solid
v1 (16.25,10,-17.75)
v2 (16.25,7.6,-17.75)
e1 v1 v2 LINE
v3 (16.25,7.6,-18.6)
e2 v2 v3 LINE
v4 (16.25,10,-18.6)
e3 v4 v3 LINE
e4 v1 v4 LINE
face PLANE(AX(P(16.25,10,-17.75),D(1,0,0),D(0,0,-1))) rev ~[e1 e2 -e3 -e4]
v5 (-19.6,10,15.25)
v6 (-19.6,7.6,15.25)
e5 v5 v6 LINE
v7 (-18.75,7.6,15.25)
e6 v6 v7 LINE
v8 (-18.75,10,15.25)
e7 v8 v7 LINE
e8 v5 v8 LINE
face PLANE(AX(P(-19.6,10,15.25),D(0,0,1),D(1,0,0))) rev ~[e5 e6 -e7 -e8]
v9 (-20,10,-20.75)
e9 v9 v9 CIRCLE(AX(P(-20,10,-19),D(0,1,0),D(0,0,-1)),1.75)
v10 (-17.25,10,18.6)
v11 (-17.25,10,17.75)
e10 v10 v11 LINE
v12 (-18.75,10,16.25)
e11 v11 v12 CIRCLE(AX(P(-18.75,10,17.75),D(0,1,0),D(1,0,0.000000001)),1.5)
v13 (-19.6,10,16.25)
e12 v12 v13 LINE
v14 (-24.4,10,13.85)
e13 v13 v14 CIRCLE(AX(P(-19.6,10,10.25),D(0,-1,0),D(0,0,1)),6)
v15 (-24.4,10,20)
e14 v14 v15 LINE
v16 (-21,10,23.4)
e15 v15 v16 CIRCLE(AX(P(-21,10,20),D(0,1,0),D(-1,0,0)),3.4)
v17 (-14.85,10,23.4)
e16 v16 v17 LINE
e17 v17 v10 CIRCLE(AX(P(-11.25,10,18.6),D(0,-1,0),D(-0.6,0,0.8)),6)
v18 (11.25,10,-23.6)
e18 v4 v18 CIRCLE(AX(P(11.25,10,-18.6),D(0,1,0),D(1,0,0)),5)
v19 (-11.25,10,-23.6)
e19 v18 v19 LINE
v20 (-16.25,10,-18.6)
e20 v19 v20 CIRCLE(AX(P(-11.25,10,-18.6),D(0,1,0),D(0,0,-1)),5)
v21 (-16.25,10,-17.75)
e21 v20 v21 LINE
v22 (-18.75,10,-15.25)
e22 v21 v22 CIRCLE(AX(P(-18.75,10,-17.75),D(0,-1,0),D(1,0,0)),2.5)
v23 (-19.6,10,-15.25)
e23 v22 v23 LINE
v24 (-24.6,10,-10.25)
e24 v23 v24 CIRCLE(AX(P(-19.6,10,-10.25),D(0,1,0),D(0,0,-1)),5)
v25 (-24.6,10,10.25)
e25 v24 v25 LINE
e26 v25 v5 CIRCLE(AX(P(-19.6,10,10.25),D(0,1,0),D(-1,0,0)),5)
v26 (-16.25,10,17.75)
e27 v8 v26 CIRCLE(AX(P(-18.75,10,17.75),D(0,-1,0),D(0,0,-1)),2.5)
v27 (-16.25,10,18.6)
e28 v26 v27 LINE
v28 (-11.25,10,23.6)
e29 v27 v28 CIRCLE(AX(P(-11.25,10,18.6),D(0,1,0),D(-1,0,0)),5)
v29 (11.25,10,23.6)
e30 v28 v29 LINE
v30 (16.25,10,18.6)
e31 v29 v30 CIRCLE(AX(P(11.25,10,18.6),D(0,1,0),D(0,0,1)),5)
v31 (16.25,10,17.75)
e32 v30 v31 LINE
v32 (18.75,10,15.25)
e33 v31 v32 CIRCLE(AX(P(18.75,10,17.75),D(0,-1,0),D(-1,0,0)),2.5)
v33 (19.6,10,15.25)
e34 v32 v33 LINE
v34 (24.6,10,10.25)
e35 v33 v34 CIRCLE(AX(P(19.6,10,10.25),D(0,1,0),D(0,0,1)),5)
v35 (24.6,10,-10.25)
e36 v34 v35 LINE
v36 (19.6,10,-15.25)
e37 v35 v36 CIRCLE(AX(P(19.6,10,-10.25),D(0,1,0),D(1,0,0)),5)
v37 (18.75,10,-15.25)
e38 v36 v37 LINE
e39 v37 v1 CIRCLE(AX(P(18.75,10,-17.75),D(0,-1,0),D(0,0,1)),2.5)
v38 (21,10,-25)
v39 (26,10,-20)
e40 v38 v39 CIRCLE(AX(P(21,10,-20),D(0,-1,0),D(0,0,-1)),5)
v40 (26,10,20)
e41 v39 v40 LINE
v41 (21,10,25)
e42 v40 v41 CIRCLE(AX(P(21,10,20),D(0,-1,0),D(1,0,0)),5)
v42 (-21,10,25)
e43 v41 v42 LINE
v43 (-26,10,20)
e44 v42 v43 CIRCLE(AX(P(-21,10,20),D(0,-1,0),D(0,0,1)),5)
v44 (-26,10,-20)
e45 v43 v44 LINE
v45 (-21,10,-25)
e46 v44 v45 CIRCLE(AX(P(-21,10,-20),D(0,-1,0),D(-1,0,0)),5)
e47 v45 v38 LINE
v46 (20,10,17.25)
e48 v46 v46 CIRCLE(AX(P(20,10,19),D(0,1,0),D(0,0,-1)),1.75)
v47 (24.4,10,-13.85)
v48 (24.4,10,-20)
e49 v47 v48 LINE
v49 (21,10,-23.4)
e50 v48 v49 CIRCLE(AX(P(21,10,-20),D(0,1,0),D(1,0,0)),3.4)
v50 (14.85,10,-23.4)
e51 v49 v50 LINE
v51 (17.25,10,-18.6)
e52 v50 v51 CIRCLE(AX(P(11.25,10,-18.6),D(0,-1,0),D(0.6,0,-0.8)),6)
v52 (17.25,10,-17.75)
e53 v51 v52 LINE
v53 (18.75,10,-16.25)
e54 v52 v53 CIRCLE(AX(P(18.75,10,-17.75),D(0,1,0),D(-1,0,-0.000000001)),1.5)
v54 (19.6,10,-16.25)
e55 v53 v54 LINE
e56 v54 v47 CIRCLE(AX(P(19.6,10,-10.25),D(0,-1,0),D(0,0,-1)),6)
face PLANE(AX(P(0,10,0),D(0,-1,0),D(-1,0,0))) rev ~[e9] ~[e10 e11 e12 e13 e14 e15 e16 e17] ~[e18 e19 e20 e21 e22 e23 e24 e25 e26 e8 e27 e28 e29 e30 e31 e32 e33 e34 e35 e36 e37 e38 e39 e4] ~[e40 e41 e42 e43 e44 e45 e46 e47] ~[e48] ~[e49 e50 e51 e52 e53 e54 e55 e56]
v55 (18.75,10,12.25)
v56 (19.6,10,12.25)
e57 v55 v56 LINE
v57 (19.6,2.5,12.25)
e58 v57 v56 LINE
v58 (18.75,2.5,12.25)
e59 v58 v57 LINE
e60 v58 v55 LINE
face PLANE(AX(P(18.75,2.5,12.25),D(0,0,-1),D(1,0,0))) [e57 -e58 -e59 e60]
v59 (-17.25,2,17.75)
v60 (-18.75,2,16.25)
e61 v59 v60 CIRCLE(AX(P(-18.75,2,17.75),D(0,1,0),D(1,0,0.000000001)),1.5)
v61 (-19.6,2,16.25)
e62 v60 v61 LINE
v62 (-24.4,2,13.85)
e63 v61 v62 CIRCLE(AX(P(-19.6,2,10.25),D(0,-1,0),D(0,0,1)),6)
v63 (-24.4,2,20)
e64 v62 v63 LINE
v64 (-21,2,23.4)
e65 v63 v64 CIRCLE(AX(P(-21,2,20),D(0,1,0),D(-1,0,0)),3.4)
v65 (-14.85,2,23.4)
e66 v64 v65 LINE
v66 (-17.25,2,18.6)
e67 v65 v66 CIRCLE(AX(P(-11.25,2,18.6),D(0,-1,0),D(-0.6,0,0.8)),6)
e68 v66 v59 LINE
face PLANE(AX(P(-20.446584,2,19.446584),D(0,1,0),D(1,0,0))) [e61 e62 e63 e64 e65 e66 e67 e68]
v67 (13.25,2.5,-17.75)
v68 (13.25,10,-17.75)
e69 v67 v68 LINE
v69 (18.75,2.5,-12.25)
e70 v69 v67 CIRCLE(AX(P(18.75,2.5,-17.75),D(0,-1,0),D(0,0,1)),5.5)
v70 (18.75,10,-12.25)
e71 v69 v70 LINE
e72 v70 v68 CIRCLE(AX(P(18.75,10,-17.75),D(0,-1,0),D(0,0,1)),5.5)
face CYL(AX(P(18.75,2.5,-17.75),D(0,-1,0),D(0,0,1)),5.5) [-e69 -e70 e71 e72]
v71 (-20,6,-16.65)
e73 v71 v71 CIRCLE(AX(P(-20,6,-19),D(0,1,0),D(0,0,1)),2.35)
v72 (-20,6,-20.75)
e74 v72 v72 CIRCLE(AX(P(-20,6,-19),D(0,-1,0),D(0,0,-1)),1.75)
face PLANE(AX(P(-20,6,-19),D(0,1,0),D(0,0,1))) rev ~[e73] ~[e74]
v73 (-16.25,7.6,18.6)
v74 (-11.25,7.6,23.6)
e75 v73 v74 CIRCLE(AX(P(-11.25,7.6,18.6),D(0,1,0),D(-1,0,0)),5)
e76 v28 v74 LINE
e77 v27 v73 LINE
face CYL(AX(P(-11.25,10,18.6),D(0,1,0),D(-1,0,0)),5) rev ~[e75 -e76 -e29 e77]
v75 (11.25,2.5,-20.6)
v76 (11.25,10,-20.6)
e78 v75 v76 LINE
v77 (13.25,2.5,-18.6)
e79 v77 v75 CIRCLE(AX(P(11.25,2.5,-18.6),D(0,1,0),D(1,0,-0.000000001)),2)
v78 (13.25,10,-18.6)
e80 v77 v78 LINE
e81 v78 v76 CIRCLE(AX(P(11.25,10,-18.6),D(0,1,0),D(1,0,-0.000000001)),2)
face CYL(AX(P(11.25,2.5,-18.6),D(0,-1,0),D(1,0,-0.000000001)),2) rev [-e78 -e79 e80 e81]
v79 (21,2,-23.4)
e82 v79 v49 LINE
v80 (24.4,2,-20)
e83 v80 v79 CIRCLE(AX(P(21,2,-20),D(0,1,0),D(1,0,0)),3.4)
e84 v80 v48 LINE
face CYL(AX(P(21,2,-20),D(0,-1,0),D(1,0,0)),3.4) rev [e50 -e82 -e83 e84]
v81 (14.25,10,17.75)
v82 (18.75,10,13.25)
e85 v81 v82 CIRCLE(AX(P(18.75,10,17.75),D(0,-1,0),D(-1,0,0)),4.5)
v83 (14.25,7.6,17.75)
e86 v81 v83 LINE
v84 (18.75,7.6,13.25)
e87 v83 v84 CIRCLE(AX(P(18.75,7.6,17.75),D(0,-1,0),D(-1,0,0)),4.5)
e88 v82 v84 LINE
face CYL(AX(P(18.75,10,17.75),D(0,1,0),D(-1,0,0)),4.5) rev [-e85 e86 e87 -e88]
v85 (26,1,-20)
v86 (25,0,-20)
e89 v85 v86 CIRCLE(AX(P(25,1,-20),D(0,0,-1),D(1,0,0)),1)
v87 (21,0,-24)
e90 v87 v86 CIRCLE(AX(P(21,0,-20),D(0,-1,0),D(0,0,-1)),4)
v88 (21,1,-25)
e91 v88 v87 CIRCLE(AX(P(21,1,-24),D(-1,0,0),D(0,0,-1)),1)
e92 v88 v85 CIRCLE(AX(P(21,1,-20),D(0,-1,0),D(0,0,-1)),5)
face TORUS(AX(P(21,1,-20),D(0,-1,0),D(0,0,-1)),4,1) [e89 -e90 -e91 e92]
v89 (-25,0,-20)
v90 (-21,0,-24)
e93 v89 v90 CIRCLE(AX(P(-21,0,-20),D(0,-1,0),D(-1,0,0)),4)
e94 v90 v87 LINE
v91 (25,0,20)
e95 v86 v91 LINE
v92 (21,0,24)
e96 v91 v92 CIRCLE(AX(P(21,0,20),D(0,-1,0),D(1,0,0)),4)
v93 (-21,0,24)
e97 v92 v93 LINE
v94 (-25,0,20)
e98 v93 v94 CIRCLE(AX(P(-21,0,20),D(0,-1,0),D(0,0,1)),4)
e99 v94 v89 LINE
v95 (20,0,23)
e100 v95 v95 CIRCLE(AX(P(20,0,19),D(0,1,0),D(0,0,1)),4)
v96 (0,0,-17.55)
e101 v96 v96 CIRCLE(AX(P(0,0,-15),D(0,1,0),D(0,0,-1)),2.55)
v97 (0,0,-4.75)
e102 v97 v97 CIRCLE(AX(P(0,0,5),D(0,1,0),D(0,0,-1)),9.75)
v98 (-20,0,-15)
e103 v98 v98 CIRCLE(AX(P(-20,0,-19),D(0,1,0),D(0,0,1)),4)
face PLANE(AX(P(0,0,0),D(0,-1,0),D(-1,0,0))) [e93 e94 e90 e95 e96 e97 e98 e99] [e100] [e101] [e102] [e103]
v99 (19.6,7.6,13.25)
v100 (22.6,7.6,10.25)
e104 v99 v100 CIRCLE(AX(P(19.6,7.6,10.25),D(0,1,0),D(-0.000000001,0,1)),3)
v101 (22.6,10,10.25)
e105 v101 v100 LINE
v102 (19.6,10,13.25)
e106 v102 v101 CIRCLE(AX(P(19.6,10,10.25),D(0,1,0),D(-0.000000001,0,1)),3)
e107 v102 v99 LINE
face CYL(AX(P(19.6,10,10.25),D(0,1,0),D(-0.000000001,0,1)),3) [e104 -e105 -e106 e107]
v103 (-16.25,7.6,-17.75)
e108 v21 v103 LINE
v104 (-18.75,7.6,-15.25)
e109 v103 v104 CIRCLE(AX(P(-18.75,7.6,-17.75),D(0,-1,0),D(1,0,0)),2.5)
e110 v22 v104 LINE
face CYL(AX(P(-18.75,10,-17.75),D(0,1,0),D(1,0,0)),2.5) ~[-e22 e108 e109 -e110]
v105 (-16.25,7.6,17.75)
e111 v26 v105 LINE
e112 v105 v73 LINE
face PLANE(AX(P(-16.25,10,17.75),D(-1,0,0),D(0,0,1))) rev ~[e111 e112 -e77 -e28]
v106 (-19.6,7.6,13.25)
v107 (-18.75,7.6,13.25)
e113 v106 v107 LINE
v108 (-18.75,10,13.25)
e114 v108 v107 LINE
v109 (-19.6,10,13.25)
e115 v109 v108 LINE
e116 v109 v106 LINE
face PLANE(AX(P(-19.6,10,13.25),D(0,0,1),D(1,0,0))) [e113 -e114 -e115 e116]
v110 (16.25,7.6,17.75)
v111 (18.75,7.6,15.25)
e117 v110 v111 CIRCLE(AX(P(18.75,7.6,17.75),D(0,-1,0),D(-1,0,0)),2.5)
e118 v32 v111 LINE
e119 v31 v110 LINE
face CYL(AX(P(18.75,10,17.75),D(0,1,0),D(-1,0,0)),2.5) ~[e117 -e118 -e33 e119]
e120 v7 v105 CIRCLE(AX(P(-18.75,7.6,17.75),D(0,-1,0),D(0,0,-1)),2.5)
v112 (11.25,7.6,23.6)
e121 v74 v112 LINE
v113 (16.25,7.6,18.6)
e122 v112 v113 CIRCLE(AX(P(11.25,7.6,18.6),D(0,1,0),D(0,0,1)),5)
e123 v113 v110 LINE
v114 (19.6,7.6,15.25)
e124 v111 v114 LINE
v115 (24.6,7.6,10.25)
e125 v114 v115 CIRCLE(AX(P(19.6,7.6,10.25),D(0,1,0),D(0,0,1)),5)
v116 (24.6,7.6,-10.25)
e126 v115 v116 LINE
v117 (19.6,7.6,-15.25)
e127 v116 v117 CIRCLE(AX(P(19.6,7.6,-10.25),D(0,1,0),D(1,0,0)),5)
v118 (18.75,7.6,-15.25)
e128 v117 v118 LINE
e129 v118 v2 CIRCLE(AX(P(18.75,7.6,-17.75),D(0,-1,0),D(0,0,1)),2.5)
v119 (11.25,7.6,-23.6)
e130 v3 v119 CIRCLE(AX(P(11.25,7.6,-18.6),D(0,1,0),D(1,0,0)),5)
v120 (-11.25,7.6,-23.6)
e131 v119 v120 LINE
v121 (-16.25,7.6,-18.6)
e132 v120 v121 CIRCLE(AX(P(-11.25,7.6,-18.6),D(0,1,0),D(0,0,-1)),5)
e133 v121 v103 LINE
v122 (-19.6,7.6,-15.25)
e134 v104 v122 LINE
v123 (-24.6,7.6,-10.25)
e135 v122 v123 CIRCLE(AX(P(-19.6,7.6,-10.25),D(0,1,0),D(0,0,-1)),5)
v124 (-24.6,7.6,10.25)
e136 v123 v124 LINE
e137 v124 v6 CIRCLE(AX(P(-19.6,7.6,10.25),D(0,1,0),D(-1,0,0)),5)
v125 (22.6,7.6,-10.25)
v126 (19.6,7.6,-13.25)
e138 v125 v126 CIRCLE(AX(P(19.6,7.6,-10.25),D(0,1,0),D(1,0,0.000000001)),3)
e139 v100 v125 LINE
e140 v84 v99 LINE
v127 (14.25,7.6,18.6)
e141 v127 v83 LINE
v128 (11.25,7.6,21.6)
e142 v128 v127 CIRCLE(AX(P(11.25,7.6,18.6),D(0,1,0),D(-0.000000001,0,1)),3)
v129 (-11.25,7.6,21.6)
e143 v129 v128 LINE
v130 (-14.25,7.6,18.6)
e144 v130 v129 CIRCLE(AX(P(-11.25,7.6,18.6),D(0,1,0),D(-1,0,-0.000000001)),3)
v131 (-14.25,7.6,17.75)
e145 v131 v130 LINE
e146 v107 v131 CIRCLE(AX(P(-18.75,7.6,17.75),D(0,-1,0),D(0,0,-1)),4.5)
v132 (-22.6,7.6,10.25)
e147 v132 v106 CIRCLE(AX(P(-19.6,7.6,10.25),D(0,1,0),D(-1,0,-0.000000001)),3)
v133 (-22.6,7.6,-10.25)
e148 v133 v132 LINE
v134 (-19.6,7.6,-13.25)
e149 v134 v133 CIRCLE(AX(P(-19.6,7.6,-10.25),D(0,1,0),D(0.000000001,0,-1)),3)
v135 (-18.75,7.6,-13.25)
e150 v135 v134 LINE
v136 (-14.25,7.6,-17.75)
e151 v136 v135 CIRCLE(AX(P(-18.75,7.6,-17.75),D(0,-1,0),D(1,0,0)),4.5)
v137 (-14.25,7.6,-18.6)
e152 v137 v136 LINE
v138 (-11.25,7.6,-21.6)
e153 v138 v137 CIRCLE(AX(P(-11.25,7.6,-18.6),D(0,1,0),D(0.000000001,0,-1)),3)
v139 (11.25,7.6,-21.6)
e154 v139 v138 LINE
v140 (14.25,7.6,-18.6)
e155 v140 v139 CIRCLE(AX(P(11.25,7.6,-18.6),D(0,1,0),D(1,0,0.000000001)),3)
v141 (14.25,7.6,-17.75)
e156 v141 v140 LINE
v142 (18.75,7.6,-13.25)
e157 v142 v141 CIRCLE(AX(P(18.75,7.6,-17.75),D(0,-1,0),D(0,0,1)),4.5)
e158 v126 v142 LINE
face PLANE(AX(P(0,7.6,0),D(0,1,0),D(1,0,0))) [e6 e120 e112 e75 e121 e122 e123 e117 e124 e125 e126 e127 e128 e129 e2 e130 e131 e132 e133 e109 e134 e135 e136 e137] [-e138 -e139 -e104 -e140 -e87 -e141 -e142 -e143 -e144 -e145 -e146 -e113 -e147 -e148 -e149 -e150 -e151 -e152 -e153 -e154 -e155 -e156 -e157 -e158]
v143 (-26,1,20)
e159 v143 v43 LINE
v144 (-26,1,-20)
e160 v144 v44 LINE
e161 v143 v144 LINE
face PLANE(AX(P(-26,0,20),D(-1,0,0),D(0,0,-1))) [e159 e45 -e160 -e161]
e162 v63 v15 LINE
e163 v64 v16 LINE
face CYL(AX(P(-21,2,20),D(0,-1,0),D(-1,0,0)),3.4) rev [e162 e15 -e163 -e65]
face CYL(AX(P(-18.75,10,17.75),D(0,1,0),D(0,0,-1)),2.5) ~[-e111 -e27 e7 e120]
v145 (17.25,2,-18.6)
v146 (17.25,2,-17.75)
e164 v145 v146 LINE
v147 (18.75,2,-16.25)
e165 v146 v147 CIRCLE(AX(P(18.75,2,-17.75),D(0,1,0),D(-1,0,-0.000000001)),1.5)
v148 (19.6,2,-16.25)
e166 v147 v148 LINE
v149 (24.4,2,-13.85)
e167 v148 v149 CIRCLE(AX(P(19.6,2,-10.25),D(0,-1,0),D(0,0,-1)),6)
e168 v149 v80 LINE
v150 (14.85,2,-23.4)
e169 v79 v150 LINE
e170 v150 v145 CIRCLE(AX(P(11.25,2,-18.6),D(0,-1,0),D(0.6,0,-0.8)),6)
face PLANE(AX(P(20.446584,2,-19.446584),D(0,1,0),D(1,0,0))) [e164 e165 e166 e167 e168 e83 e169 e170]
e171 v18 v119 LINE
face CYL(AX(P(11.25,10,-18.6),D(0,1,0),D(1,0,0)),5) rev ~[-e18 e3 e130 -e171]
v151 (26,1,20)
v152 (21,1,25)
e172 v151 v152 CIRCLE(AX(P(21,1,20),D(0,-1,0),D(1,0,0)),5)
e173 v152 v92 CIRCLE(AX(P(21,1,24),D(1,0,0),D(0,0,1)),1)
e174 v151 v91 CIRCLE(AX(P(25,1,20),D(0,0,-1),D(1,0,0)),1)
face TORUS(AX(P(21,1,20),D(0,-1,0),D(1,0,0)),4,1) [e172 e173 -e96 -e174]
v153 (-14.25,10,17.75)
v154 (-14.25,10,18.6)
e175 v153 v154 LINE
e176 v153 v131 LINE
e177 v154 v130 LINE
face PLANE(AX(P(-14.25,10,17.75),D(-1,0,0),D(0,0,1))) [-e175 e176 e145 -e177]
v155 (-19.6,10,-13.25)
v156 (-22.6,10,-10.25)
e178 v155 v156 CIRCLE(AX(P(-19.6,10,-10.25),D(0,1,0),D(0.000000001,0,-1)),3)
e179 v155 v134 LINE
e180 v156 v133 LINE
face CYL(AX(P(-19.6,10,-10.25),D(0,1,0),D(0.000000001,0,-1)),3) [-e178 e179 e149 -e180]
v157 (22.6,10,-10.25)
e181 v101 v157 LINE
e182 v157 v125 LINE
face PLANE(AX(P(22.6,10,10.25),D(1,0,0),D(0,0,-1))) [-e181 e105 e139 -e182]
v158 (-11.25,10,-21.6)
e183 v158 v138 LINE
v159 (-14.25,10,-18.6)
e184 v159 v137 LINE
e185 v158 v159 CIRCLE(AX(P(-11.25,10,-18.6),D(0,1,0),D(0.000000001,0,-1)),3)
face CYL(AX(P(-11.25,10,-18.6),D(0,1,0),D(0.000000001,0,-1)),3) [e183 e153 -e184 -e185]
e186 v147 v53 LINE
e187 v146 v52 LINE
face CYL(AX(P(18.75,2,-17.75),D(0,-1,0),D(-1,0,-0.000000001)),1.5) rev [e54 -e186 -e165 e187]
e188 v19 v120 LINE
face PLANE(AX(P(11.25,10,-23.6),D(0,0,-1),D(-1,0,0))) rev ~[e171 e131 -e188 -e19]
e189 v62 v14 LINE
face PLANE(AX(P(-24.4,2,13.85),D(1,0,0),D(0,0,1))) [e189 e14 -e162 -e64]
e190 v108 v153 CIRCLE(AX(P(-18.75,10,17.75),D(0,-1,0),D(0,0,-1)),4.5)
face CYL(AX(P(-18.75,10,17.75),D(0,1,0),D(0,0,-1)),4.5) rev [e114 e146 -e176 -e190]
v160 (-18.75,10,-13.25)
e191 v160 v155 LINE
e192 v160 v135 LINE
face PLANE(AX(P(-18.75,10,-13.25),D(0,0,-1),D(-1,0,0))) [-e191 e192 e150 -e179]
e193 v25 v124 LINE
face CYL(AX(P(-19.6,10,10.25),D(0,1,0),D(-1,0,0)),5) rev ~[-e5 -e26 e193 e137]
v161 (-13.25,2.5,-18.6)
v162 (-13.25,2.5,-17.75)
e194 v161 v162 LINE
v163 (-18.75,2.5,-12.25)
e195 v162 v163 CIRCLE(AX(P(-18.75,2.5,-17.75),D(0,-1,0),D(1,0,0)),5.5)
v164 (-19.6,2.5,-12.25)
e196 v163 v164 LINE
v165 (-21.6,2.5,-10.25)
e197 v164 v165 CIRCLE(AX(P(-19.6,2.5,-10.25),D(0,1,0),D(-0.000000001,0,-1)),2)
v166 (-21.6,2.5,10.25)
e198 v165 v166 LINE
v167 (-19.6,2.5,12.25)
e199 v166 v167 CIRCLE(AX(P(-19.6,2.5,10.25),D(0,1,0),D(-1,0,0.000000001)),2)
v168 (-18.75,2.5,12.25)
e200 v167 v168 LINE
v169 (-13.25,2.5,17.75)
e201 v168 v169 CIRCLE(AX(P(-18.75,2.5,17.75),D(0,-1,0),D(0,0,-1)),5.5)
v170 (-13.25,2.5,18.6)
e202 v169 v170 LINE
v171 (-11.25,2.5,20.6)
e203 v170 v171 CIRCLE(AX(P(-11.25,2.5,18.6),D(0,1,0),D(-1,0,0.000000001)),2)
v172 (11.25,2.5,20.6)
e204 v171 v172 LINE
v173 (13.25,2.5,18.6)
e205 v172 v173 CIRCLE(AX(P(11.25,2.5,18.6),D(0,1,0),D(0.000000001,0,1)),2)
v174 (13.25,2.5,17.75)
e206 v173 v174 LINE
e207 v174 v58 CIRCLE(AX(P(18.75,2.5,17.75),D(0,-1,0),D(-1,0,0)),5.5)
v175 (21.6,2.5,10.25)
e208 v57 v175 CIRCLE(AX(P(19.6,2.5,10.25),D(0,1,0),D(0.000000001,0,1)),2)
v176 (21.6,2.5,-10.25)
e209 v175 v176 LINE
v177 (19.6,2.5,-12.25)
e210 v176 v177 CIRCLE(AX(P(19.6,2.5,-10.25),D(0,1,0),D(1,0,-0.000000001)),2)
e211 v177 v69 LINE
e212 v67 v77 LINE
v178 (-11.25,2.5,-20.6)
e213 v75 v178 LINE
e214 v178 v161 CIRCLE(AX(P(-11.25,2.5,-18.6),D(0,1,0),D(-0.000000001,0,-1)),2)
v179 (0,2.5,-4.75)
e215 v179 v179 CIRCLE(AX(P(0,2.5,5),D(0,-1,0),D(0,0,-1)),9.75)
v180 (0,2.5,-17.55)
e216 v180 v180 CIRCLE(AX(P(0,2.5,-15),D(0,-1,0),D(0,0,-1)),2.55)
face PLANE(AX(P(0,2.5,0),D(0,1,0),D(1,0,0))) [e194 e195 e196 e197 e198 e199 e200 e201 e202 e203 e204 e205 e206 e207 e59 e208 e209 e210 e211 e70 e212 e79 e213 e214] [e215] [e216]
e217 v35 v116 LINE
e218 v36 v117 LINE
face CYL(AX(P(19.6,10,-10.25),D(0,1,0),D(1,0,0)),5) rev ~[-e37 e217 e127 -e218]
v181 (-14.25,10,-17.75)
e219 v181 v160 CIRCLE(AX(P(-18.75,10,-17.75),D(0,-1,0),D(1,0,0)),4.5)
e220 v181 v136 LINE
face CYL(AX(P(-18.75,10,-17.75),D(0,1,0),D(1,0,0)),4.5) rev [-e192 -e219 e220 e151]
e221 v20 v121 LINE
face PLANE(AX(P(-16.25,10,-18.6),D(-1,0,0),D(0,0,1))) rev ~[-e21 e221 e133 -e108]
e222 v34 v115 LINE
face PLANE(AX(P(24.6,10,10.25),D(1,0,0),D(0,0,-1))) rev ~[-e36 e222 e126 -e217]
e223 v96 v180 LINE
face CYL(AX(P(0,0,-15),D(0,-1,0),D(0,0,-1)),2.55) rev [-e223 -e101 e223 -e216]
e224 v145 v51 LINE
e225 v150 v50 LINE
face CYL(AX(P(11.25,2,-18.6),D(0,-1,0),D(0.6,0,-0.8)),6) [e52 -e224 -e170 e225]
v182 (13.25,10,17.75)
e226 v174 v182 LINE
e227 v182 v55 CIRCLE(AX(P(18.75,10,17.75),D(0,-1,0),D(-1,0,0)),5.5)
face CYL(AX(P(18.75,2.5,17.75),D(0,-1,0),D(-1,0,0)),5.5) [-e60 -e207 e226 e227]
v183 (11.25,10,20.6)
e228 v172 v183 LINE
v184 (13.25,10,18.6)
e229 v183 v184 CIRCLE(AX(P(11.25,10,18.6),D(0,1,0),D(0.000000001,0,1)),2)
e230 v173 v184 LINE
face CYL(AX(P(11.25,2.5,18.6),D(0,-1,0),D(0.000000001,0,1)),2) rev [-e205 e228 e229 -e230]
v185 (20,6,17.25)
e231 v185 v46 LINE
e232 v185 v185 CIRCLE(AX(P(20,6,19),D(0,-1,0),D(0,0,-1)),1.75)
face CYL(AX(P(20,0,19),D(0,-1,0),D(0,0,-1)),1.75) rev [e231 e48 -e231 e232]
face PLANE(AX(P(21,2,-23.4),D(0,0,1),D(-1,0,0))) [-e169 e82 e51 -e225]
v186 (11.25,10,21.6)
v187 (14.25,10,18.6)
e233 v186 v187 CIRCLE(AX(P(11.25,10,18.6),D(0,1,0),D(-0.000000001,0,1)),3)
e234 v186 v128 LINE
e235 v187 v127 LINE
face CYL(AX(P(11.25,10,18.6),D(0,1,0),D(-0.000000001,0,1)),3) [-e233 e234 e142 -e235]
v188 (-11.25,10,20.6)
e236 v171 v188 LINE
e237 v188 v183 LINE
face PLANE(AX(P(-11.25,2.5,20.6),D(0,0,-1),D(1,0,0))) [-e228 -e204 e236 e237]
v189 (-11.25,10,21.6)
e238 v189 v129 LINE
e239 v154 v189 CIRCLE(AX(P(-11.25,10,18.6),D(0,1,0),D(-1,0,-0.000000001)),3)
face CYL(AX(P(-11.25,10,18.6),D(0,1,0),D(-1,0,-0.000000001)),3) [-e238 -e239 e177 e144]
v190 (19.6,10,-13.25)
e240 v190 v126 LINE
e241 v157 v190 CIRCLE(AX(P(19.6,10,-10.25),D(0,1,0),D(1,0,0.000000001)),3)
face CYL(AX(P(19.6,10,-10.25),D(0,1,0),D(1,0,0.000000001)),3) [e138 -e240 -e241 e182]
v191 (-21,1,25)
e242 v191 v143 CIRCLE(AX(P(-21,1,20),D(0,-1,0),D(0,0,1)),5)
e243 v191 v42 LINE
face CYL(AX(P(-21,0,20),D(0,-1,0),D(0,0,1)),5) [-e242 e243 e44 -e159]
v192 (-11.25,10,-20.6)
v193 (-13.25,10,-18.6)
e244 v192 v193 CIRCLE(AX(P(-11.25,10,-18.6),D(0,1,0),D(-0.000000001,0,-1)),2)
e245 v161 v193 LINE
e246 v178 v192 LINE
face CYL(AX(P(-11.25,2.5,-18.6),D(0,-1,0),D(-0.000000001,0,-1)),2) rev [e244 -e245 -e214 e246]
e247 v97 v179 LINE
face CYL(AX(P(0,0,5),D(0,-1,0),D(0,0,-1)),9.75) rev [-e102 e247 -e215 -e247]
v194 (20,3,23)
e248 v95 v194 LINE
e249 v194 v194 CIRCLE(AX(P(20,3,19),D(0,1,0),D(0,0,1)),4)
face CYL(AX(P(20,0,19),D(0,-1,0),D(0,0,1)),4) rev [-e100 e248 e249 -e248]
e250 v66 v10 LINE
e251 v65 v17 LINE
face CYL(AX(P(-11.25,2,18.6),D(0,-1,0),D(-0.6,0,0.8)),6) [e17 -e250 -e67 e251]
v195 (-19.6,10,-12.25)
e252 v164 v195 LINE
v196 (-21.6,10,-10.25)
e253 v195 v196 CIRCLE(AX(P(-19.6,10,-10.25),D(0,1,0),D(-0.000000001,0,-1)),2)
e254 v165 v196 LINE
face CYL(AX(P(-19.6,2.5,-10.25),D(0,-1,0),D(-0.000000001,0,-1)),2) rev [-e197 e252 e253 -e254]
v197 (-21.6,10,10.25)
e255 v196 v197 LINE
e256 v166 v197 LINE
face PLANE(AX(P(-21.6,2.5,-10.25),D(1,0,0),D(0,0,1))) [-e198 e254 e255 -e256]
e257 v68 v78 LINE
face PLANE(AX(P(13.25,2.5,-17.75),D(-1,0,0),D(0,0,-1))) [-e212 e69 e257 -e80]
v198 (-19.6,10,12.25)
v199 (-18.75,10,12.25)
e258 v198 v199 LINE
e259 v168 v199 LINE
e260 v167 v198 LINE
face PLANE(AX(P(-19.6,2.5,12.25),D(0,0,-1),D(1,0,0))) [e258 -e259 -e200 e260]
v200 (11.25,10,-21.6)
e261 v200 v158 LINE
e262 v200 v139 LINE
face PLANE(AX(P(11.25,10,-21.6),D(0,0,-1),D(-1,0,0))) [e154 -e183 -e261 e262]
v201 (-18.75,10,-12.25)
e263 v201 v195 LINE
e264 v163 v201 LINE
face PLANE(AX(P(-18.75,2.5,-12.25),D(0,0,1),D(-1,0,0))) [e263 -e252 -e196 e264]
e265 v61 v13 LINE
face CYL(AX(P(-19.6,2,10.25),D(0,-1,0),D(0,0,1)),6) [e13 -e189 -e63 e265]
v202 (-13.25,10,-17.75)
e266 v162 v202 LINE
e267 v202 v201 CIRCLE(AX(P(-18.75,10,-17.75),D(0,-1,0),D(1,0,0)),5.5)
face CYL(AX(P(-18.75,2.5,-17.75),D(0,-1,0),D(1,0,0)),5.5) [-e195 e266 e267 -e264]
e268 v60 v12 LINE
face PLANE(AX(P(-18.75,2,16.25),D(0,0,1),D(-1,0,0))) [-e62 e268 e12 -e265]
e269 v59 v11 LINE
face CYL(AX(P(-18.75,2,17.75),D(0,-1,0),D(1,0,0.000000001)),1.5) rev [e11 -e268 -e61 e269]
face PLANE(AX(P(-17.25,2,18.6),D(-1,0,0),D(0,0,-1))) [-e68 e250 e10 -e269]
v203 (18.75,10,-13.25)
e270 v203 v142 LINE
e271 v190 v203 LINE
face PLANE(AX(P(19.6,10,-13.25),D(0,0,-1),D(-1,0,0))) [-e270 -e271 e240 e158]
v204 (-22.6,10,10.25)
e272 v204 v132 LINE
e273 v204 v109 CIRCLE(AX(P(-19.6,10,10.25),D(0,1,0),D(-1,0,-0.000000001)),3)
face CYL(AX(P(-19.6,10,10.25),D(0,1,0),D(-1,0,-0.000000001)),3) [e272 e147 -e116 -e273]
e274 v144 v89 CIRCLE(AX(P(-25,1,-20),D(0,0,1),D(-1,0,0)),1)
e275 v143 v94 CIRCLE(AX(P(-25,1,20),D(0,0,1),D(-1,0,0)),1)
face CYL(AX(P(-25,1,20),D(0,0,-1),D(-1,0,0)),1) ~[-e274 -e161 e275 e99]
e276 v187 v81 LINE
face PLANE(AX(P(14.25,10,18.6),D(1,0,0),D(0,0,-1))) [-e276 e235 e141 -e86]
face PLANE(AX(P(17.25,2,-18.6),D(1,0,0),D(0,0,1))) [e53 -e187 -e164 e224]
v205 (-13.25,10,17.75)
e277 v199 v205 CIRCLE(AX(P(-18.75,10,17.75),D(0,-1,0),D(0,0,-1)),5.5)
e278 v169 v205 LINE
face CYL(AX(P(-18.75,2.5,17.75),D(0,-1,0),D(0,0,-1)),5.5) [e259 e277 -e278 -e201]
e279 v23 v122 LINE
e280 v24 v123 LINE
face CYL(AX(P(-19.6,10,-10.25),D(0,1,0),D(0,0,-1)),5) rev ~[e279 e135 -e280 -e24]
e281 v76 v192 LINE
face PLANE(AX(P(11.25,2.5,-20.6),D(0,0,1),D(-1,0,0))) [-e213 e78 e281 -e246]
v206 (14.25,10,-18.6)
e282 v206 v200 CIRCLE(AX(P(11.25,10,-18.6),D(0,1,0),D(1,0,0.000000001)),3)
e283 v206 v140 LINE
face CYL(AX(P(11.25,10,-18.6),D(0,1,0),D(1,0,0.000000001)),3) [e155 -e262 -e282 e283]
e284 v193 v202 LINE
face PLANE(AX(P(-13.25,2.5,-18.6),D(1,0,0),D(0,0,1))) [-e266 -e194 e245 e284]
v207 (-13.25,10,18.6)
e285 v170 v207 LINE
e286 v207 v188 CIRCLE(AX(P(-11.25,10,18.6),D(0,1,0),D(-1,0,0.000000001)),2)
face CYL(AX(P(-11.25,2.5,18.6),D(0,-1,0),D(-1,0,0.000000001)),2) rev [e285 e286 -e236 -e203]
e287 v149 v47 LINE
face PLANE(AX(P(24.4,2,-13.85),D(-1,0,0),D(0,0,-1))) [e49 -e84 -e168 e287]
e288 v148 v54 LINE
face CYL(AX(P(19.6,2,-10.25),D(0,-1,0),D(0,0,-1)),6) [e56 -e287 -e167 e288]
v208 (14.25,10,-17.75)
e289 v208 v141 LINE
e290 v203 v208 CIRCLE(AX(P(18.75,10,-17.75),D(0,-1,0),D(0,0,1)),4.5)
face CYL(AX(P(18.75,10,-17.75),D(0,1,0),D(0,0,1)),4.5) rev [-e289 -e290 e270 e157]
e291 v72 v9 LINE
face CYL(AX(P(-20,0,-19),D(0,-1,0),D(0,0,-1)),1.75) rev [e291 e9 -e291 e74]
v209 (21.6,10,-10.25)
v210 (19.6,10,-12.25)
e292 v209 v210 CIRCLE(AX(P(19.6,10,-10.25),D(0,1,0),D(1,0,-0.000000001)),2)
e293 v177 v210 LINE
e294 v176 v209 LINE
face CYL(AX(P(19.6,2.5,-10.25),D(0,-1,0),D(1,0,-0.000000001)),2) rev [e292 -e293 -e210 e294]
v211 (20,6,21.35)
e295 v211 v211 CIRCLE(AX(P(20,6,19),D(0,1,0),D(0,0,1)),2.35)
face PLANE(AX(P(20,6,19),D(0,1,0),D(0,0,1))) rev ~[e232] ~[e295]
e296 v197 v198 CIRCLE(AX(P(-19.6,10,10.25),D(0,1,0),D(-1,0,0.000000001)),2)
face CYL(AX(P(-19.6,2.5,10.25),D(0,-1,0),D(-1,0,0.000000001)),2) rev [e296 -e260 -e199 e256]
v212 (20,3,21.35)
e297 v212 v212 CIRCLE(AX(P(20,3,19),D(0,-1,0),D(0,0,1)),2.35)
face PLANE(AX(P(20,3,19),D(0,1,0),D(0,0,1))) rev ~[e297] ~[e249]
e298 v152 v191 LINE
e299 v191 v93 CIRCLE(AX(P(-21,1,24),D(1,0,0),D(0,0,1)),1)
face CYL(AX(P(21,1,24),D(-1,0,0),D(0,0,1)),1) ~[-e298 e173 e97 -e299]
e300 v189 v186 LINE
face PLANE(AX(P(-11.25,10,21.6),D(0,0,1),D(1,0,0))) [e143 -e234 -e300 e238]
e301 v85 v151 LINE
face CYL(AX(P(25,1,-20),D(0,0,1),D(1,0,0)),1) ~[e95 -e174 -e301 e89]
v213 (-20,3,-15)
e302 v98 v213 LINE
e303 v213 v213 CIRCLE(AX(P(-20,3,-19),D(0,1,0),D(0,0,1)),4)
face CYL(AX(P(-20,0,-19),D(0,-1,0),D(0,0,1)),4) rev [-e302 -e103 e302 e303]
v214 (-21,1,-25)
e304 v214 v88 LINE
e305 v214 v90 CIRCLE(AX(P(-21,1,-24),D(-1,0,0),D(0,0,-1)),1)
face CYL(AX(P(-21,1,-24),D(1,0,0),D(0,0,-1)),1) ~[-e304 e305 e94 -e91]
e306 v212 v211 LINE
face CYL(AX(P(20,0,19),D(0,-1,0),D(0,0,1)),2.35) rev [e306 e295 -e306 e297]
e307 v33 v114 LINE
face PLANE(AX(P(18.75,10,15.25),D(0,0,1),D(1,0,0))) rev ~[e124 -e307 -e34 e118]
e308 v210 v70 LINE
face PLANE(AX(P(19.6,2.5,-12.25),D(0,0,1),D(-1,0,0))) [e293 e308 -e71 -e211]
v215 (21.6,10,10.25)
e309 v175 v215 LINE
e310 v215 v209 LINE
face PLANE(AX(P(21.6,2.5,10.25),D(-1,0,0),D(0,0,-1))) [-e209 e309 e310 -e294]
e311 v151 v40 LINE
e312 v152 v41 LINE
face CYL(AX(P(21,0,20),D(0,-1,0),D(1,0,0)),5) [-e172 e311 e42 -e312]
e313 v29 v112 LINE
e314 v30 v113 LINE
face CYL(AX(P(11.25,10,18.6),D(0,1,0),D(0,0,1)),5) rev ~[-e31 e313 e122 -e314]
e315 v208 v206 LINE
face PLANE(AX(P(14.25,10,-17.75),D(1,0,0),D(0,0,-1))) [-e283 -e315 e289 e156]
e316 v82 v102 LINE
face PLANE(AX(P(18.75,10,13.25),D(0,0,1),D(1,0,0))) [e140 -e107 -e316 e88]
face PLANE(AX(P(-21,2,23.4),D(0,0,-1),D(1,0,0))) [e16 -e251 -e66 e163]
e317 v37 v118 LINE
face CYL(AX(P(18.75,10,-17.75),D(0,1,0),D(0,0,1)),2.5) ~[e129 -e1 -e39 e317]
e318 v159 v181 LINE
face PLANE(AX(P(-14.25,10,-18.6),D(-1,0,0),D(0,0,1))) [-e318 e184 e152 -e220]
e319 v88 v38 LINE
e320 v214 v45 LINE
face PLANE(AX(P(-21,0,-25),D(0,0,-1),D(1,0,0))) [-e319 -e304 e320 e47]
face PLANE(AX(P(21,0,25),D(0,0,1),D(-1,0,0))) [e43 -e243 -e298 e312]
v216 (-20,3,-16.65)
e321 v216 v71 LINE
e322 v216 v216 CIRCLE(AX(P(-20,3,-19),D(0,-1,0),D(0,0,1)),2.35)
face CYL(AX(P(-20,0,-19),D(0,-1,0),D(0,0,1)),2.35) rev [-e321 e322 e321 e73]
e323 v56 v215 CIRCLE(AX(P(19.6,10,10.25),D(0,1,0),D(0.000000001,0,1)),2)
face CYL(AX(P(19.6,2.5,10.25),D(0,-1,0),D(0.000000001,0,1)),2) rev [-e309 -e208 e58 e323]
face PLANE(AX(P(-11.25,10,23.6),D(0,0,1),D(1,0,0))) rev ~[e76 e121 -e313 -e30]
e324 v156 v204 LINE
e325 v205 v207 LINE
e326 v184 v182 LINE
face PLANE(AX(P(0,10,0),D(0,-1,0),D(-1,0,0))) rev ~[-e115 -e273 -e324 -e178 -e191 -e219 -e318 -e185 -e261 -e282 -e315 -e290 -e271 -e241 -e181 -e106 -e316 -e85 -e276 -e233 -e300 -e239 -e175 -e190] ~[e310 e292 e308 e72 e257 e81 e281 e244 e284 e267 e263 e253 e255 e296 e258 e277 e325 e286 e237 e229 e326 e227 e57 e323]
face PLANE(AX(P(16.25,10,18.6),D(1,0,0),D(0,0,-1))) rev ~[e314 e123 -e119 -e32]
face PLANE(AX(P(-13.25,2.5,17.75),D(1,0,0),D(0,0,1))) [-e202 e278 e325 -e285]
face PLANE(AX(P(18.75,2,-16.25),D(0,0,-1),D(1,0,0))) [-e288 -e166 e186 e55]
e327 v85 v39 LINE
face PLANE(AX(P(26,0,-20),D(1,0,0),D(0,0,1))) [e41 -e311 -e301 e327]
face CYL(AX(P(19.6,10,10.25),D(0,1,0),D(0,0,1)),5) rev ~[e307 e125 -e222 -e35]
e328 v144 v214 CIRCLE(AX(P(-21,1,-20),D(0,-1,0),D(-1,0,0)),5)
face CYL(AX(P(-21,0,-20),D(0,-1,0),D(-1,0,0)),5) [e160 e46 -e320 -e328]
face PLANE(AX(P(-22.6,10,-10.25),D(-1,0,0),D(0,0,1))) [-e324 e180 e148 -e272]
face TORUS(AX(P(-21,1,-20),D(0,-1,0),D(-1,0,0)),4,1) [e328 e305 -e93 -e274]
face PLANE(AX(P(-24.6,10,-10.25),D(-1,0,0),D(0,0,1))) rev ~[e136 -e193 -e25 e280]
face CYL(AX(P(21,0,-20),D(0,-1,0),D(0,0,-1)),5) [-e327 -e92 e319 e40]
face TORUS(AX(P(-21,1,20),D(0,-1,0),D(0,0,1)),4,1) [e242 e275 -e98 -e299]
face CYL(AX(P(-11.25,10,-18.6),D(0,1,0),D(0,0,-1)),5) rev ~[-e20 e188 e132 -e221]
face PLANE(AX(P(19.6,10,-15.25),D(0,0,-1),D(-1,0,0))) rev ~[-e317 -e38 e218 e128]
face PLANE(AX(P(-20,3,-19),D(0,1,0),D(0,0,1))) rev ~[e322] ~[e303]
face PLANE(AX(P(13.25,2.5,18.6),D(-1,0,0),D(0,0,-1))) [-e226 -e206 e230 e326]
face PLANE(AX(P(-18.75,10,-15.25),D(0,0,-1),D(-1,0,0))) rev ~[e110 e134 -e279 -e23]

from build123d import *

# Parameters (mm, degrees)
EXTRUDE_1_DEPTH      = 10
CUT_EXTRUDE_START    = 2.5
CUT_EXTRUDE_1_DEPTH  = 7.5
CUT_EXTRUDE_START_2  = 10
CUT_EXTRUDE_7_DEPTH  = 2.4
CUT_EXTRUDE_START_3  = 2
CUT_EXTRUDE_9_DEPTH  = 8
SKETCH_15_R          = 1.75
CUT_EXTRUDE_10_DEPTH = 10
SKETCH_16_R          = 2.35
CUT_EXTRUDE_11_DEPTH = 6
SKETCH_17_R          = 4
CUT_EXTRUDE_12_DEPTH = 3
FILLET_2_R           = 1
SKETCH_18_R          = 9.75
SKETCH_18_R_2        = 2.55
CUT_EXTRUDE_13_DEPTH = 10


with BuildPart() as part:
    # Эскиз1 → Бобышка-Вытянуть1 (new body)
    with BuildSketch(Plane(origin=(0, 0, 0), x_dir=(1, 0, 0), z_dir=(0, 1, 0))):
        with BuildLine():
            Line((-21, 25), (21, 25))
            ThreePointArc((21, 25), (24.535533906, 23.535533906), (26, 20))
            Line((26, 20), (26, -20))
            ThreePointArc((26, -20), (24.535533906, -23.535533906), (21, -25))
            Line((21, -25), (-21, -25))
            ThreePointArc((-21, -25), (-24.535533906, -23.535533906), (-26, -20))
            Line((-26, -20), (-26, 20))
            ThreePointArc((-26, 20), (-24.535533906, 23.535533906), (-21, 25))
        make_face()
    extrude(amount=EXTRUDE_1_DEPTH)

    # Эскиз2 → Вырез-Вытянуть1 (cut)
    with BuildSketch(Plane(origin=(0, 0, 0), x_dir=(1, 0, 0), z_dir=(0, 1, 0)).offset(CUT_EXTRUDE_START)):
        with BuildLine():
            Line((-13.25, 18.6), (-13.25, 17.75))
            ThreePointArc((-13.25, 17.75), (-14.860912703, 13.860912703), (-18.75, 12.25))
            Line((-18.75, 12.25), (-19.6, 12.25))
            ThreePointArc((-19.6, 12.25), (-21.014213562, 11.664213562), (-21.6, 10.25))
            Line((-21.6, 10.25), (-21.6, -10.25))
            ThreePointArc((-21.6, -10.25), (-21.014213562, -11.664213562), (-19.6, -12.25))
            Line((-19.6, -12.25), (-18.75, -12.25))
            ThreePointArc((-18.75, -12.25), (-14.860912703, -13.860912703), (-13.25, -17.75))
            Line((-13.25, -17.75), (-13.25, -18.6))
            ThreePointArc((-13.25, -18.6), (-12.664213562, -20.014213562), (-11.25, -20.6))
            Line((-11.25, -20.6), (11.25, -20.6))
            ThreePointArc((11.25, -20.6), (12.664213562, -20.014213562), (13.25, -18.6))
            Line((13.25, -18.6), (13.25, -17.75))
            ThreePointArc((13.25, -17.75), (14.860912703, -13.860912703), (18.75, -12.25))
            Line((18.75, -12.25), (19.6, -12.25))
            ThreePointArc((19.6, -12.25), (21.014213562, -11.664213562), (21.6, -10.25))
            Line((21.6, -10.25), (21.6, 10.25))
            ThreePointArc((21.6, 10.25), (21.014213562, 11.664213562), (19.6, 12.25))
            Line((19.6, 12.25), (18.75, 12.25))
            ThreePointArc((18.75, 12.25), (14.860912703, 13.860912703), (13.25, 17.75))
            Line((13.25, 17.75), (13.25, 18.6))
            ThreePointArc((13.25, 18.6), (12.664213562, 20.014213562), (11.25, 20.6))
            Line((11.25, 20.6), (-11.25, 20.6))
            ThreePointArc((-11.25, 20.6), (-12.664213562, 20.014213562), (-13.25, 18.6))
        make_face()
    extrude(amount=CUT_EXTRUDE_1_DEPTH, mode=Mode.SUBTRACT)

    # Эскиз5 → Вырез-Вытянуть7 (cut)
    with BuildSketch(Plane(origin=(0, 0, 0), x_dir=(1, 0, 0), z_dir=(0, 1, 0)).offset(CUT_EXTRUDE_START_2)):
        with BuildLine():
            Line((-16.25, 18.6), (-16.25, 17.75))
            ThreePointArc((-16.25, 17.75), (-16.982233047, 15.982233047), (-18.75, 15.25))
            Line((-18.75, 15.25), (-19.6, 15.25))
            ThreePointArc((-19.6, 15.25), (-23.135533906, 13.785533906), (-24.6, 10.25))
            Line((-24.6, 10.25), (-24.6, -10.25))
            ThreePointArc((-24.6, -10.25), (-23.135533906, -13.785533906), (-19.6, -15.25))
            Line((-19.6, -15.25), (-18.75, -15.25))
            ThreePointArc((-18.75, -15.25), (-16.982233047, -15.982233047), (-16.25, -17.75))
            Line((-16.25, -17.75), (-16.25, -18.6))
            ThreePointArc((-16.25, -18.6), (-14.785533906, -22.135533906), (-11.25, -23.6))
            Line((-11.25, -23.6), (11.25, -23.6))
            ThreePointArc((11.25, -23.6), (14.785533906, -22.135533906), (16.25, -18.6))
            Line((16.25, -18.6), (16.25, -17.75))
            ThreePointArc((16.25, -17.75), (16.982233047, -15.982233047), (18.75, -15.25))
            Line((18.75, -15.25), (19.6, -15.25))
            ThreePointArc((19.6, -15.25), (23.135533906, -13.785533906), (24.6, -10.25))
            Line((24.6, -10.25), (24.6, 10.25))
            ThreePointArc((24.6, 10.25), (23.135533906, 13.785533906), (19.6, 15.25))
            Line((19.6, 15.25), (18.75, 15.25))
            ThreePointArc((18.75, 15.25), (16.982233047, 15.982233047), (16.25, 17.75))
            Line((16.25, 17.75), (16.25, 18.6))
            ThreePointArc((16.25, 18.6), (14.785533906, 22.135533906), (11.25, 23.6))
            Line((11.25, 23.6), (-11.25, 23.6))
            ThreePointArc((-11.25, 23.6), (-14.785533906, 22.135533906), (-16.25, 18.6))
        make_face()
        with BuildLine():
            Line((-14.25, 18.6), (-14.25, 17.75))
            ThreePointArc((-14.25, 17.75), (-15.568019485, 14.568019485), (-18.75, 13.25))
            Line((-18.75, 13.25), (-19.6, 13.25))
            ThreePointArc((-19.6, 13.25), (-21.721320344, 12.371320344), (-22.6, 10.25))
            Line((-22.6, 10.25), (-22.6, -10.25))
            ThreePointArc((-22.6, -10.25), (-21.721320344, -12.371320344), (-19.6, -13.25))
            Line((-19.6, -13.25), (-18.75, -13.25))
            ThreePointArc((-18.75, -13.25), (-15.568019485, -14.568019485), (-14.25, -17.75))
            Line((-14.25, -17.75), (-14.25, -18.6))
            ThreePointArc((-14.25, -18.6), (-13.371320344, -20.721320344), (-11.25, -21.6))
            Line((-11.25, -21.6), (11.25, -21.6))
            ThreePointArc((11.25, -21.6), (13.371320344, -20.721320344), (14.25, -18.6))
            Line((14.25, -18.6), (14.25, -17.75))
            ThreePointArc((14.25, -17.75), (15.568019485, -14.568019485), (18.75, -13.25))
            Line((18.75, -13.25), (19.6, -13.25))
            ThreePointArc((19.6, -13.25), (21.721320344, -12.371320344), (22.6, -10.25))
            Line((22.6, -10.25), (22.6, 10.25))
            ThreePointArc((22.6, 10.25), (21.721320344, 12.371320344), (19.6, 13.25))
            Line((19.6, 13.25), (18.75, 13.25))
            ThreePointArc((18.75, 13.25), (15.568019485, 14.568019485), (14.25, 17.75))
            Line((14.25, 17.75), (14.25, 18.6))
            ThreePointArc((14.25, 18.6), (13.371320344, 20.721320344), (11.25, 21.6))
            Line((11.25, 21.6), (-11.25, 21.6))
            ThreePointArc((-11.25, 21.6), (-13.371320344, 20.721320344), (-14.25, 18.6))
        make_face(mode=Mode.SUBTRACT)
    extrude(amount=-CUT_EXTRUDE_7_DEPTH, mode=Mode.SUBTRACT)

    # Эскиз14 → Вырез-Вытянуть9 (cut)
    with BuildSketch(Plane(origin=(0, 0, 0), x_dir=(1, 0, 0), z_dir=(0, 1, 0)).offset(CUT_EXTRUDE_START_3)):
        with BuildLine():
            Line((21, 23.4), (14.85, 23.4))
            ThreePointArc((14.85, 23.4), (16.616563146, 21.283281573), (17.25, 18.6))
            Line((17.25, 18.6), (17.25, 17.75))
            ThreePointArc((17.25, 17.75), (17.689339828, 16.689339828), (18.75, 16.25))
            Line((18.75, 16.25), (19.6, 16.25))
            ThreePointArc((19.6, 16.25), (22.283281573, 15.616563146), (24.4, 13.85))
            Line((24.4, 13.85), (24.4, 20))
            ThreePointArc((24.4, 20), (23.404163056, 22.404163056), (21, 23.4))
        make_face()
        with BuildLine():
            Line((-21, -23.4), (-14.85, -23.4))
            ThreePointArc((-14.85, -23.4), (-16.616563146, -21.283281573), (-17.25, -18.6))
            Line((-17.25, -18.6), (-17.25, -17.75))
            ThreePointArc((-17.25, -17.75), (-17.689339828, -16.689339828), (-18.75, -16.25))
            Line((-18.75, -16.25), (-19.6, -16.25))
            ThreePointArc((-19.6, -16.25), (-22.283281573, -15.616563146), (-24.4, -13.85))
            Line((-24.4, -13.85), (-24.4, -20))
            ThreePointArc((-24.4, -20), (-23.404163056, -22.404163056), (-21, -23.4))
        make_face()
    extrude(amount=CUT_EXTRUDE_9_DEPTH, mode=Mode.SUBTRACT)

    # Эскиз15 → Вырез-Вытянуть10 (cut)
    with BuildSketch(Plane(origin=(0, 0, 0), x_dir=(1, 0, 0), z_dir=(0, 1, 0))):
        with Locations(Location((-20, 19, 0), (0, 0, 90))):
            Circle(SKETCH_15_R)
        with Locations(Location((20, -19, 0), (0, 0, 90))):
            Circle(SKETCH_15_R)
    extrude(amount=CUT_EXTRUDE_10_DEPTH, mode=Mode.SUBTRACT)

    # Эскиз16 → Вырез-Вытянуть11 (cut)
    with BuildSketch(Plane(origin=(0, 0, 0), x_dir=(1, 0, 0), z_dir=(0, 1, 0))):
        with Locations(Location((-20, 19, 0), (0, 0, 270))):
            Circle(SKETCH_16_R)
        with Locations(Location((20, -19, 0), (0, 0, 270))):
            Circle(SKETCH_16_R)
    extrude(amount=CUT_EXTRUDE_11_DEPTH, mode=Mode.SUBTRACT)

    # Эскиз17 → Вырез-Вытянуть12 (cut)
    with BuildSketch(Plane(origin=(0, 0, 0), x_dir=(1, 0, 0), z_dir=(0, 1, 0))):
        with Locations(Location((-20, 19, 0), (0, 0, 270))):
            Circle(SKETCH_17_R)
        with Locations(Location((20, -19, 0), (0, 0, 270))):
            Circle(SKETCH_17_R)
    extrude(amount=CUT_EXTRUDE_12_DEPTH, mode=Mode.SUBTRACT)

    # Скругление2
    fillet_2_edges = [part.edges().sort_by_distance(p)[0] for p in [
        (0, 0, -25),
        (24.535533906, 0, -23.535533906),
        (26, 0, 0),
        (24.535533906, 0, 23.535533906),
        (0, 0, 25),
        (-24.535533906, 0, 23.535533906),
        (-26, 0, 0),
        (-24.535533906, 0, -23.535533906),
    ]]
    fillet(fillet_2_edges, radius=FILLET_2_R)

    # Эскиз18 → Вырез-Вытянуть13 (cut)
    with BuildSketch(Plane(origin=(0, 0, 0), x_dir=(1, 0, 0), z_dir=(0, 1, 0))):
        with Locations(Location((0, -5, 0), (0, 0, 90))):
            Circle(SKETCH_18_R)
        with Locations(Location((0, 15, 0), (0, 0, 90))):
            Circle(SKETCH_18_R_2)
    extrude(amount=CUT_EXTRUDE_13_DEPTH, mode=Mode.SUBTRACT)


solid = part.part
